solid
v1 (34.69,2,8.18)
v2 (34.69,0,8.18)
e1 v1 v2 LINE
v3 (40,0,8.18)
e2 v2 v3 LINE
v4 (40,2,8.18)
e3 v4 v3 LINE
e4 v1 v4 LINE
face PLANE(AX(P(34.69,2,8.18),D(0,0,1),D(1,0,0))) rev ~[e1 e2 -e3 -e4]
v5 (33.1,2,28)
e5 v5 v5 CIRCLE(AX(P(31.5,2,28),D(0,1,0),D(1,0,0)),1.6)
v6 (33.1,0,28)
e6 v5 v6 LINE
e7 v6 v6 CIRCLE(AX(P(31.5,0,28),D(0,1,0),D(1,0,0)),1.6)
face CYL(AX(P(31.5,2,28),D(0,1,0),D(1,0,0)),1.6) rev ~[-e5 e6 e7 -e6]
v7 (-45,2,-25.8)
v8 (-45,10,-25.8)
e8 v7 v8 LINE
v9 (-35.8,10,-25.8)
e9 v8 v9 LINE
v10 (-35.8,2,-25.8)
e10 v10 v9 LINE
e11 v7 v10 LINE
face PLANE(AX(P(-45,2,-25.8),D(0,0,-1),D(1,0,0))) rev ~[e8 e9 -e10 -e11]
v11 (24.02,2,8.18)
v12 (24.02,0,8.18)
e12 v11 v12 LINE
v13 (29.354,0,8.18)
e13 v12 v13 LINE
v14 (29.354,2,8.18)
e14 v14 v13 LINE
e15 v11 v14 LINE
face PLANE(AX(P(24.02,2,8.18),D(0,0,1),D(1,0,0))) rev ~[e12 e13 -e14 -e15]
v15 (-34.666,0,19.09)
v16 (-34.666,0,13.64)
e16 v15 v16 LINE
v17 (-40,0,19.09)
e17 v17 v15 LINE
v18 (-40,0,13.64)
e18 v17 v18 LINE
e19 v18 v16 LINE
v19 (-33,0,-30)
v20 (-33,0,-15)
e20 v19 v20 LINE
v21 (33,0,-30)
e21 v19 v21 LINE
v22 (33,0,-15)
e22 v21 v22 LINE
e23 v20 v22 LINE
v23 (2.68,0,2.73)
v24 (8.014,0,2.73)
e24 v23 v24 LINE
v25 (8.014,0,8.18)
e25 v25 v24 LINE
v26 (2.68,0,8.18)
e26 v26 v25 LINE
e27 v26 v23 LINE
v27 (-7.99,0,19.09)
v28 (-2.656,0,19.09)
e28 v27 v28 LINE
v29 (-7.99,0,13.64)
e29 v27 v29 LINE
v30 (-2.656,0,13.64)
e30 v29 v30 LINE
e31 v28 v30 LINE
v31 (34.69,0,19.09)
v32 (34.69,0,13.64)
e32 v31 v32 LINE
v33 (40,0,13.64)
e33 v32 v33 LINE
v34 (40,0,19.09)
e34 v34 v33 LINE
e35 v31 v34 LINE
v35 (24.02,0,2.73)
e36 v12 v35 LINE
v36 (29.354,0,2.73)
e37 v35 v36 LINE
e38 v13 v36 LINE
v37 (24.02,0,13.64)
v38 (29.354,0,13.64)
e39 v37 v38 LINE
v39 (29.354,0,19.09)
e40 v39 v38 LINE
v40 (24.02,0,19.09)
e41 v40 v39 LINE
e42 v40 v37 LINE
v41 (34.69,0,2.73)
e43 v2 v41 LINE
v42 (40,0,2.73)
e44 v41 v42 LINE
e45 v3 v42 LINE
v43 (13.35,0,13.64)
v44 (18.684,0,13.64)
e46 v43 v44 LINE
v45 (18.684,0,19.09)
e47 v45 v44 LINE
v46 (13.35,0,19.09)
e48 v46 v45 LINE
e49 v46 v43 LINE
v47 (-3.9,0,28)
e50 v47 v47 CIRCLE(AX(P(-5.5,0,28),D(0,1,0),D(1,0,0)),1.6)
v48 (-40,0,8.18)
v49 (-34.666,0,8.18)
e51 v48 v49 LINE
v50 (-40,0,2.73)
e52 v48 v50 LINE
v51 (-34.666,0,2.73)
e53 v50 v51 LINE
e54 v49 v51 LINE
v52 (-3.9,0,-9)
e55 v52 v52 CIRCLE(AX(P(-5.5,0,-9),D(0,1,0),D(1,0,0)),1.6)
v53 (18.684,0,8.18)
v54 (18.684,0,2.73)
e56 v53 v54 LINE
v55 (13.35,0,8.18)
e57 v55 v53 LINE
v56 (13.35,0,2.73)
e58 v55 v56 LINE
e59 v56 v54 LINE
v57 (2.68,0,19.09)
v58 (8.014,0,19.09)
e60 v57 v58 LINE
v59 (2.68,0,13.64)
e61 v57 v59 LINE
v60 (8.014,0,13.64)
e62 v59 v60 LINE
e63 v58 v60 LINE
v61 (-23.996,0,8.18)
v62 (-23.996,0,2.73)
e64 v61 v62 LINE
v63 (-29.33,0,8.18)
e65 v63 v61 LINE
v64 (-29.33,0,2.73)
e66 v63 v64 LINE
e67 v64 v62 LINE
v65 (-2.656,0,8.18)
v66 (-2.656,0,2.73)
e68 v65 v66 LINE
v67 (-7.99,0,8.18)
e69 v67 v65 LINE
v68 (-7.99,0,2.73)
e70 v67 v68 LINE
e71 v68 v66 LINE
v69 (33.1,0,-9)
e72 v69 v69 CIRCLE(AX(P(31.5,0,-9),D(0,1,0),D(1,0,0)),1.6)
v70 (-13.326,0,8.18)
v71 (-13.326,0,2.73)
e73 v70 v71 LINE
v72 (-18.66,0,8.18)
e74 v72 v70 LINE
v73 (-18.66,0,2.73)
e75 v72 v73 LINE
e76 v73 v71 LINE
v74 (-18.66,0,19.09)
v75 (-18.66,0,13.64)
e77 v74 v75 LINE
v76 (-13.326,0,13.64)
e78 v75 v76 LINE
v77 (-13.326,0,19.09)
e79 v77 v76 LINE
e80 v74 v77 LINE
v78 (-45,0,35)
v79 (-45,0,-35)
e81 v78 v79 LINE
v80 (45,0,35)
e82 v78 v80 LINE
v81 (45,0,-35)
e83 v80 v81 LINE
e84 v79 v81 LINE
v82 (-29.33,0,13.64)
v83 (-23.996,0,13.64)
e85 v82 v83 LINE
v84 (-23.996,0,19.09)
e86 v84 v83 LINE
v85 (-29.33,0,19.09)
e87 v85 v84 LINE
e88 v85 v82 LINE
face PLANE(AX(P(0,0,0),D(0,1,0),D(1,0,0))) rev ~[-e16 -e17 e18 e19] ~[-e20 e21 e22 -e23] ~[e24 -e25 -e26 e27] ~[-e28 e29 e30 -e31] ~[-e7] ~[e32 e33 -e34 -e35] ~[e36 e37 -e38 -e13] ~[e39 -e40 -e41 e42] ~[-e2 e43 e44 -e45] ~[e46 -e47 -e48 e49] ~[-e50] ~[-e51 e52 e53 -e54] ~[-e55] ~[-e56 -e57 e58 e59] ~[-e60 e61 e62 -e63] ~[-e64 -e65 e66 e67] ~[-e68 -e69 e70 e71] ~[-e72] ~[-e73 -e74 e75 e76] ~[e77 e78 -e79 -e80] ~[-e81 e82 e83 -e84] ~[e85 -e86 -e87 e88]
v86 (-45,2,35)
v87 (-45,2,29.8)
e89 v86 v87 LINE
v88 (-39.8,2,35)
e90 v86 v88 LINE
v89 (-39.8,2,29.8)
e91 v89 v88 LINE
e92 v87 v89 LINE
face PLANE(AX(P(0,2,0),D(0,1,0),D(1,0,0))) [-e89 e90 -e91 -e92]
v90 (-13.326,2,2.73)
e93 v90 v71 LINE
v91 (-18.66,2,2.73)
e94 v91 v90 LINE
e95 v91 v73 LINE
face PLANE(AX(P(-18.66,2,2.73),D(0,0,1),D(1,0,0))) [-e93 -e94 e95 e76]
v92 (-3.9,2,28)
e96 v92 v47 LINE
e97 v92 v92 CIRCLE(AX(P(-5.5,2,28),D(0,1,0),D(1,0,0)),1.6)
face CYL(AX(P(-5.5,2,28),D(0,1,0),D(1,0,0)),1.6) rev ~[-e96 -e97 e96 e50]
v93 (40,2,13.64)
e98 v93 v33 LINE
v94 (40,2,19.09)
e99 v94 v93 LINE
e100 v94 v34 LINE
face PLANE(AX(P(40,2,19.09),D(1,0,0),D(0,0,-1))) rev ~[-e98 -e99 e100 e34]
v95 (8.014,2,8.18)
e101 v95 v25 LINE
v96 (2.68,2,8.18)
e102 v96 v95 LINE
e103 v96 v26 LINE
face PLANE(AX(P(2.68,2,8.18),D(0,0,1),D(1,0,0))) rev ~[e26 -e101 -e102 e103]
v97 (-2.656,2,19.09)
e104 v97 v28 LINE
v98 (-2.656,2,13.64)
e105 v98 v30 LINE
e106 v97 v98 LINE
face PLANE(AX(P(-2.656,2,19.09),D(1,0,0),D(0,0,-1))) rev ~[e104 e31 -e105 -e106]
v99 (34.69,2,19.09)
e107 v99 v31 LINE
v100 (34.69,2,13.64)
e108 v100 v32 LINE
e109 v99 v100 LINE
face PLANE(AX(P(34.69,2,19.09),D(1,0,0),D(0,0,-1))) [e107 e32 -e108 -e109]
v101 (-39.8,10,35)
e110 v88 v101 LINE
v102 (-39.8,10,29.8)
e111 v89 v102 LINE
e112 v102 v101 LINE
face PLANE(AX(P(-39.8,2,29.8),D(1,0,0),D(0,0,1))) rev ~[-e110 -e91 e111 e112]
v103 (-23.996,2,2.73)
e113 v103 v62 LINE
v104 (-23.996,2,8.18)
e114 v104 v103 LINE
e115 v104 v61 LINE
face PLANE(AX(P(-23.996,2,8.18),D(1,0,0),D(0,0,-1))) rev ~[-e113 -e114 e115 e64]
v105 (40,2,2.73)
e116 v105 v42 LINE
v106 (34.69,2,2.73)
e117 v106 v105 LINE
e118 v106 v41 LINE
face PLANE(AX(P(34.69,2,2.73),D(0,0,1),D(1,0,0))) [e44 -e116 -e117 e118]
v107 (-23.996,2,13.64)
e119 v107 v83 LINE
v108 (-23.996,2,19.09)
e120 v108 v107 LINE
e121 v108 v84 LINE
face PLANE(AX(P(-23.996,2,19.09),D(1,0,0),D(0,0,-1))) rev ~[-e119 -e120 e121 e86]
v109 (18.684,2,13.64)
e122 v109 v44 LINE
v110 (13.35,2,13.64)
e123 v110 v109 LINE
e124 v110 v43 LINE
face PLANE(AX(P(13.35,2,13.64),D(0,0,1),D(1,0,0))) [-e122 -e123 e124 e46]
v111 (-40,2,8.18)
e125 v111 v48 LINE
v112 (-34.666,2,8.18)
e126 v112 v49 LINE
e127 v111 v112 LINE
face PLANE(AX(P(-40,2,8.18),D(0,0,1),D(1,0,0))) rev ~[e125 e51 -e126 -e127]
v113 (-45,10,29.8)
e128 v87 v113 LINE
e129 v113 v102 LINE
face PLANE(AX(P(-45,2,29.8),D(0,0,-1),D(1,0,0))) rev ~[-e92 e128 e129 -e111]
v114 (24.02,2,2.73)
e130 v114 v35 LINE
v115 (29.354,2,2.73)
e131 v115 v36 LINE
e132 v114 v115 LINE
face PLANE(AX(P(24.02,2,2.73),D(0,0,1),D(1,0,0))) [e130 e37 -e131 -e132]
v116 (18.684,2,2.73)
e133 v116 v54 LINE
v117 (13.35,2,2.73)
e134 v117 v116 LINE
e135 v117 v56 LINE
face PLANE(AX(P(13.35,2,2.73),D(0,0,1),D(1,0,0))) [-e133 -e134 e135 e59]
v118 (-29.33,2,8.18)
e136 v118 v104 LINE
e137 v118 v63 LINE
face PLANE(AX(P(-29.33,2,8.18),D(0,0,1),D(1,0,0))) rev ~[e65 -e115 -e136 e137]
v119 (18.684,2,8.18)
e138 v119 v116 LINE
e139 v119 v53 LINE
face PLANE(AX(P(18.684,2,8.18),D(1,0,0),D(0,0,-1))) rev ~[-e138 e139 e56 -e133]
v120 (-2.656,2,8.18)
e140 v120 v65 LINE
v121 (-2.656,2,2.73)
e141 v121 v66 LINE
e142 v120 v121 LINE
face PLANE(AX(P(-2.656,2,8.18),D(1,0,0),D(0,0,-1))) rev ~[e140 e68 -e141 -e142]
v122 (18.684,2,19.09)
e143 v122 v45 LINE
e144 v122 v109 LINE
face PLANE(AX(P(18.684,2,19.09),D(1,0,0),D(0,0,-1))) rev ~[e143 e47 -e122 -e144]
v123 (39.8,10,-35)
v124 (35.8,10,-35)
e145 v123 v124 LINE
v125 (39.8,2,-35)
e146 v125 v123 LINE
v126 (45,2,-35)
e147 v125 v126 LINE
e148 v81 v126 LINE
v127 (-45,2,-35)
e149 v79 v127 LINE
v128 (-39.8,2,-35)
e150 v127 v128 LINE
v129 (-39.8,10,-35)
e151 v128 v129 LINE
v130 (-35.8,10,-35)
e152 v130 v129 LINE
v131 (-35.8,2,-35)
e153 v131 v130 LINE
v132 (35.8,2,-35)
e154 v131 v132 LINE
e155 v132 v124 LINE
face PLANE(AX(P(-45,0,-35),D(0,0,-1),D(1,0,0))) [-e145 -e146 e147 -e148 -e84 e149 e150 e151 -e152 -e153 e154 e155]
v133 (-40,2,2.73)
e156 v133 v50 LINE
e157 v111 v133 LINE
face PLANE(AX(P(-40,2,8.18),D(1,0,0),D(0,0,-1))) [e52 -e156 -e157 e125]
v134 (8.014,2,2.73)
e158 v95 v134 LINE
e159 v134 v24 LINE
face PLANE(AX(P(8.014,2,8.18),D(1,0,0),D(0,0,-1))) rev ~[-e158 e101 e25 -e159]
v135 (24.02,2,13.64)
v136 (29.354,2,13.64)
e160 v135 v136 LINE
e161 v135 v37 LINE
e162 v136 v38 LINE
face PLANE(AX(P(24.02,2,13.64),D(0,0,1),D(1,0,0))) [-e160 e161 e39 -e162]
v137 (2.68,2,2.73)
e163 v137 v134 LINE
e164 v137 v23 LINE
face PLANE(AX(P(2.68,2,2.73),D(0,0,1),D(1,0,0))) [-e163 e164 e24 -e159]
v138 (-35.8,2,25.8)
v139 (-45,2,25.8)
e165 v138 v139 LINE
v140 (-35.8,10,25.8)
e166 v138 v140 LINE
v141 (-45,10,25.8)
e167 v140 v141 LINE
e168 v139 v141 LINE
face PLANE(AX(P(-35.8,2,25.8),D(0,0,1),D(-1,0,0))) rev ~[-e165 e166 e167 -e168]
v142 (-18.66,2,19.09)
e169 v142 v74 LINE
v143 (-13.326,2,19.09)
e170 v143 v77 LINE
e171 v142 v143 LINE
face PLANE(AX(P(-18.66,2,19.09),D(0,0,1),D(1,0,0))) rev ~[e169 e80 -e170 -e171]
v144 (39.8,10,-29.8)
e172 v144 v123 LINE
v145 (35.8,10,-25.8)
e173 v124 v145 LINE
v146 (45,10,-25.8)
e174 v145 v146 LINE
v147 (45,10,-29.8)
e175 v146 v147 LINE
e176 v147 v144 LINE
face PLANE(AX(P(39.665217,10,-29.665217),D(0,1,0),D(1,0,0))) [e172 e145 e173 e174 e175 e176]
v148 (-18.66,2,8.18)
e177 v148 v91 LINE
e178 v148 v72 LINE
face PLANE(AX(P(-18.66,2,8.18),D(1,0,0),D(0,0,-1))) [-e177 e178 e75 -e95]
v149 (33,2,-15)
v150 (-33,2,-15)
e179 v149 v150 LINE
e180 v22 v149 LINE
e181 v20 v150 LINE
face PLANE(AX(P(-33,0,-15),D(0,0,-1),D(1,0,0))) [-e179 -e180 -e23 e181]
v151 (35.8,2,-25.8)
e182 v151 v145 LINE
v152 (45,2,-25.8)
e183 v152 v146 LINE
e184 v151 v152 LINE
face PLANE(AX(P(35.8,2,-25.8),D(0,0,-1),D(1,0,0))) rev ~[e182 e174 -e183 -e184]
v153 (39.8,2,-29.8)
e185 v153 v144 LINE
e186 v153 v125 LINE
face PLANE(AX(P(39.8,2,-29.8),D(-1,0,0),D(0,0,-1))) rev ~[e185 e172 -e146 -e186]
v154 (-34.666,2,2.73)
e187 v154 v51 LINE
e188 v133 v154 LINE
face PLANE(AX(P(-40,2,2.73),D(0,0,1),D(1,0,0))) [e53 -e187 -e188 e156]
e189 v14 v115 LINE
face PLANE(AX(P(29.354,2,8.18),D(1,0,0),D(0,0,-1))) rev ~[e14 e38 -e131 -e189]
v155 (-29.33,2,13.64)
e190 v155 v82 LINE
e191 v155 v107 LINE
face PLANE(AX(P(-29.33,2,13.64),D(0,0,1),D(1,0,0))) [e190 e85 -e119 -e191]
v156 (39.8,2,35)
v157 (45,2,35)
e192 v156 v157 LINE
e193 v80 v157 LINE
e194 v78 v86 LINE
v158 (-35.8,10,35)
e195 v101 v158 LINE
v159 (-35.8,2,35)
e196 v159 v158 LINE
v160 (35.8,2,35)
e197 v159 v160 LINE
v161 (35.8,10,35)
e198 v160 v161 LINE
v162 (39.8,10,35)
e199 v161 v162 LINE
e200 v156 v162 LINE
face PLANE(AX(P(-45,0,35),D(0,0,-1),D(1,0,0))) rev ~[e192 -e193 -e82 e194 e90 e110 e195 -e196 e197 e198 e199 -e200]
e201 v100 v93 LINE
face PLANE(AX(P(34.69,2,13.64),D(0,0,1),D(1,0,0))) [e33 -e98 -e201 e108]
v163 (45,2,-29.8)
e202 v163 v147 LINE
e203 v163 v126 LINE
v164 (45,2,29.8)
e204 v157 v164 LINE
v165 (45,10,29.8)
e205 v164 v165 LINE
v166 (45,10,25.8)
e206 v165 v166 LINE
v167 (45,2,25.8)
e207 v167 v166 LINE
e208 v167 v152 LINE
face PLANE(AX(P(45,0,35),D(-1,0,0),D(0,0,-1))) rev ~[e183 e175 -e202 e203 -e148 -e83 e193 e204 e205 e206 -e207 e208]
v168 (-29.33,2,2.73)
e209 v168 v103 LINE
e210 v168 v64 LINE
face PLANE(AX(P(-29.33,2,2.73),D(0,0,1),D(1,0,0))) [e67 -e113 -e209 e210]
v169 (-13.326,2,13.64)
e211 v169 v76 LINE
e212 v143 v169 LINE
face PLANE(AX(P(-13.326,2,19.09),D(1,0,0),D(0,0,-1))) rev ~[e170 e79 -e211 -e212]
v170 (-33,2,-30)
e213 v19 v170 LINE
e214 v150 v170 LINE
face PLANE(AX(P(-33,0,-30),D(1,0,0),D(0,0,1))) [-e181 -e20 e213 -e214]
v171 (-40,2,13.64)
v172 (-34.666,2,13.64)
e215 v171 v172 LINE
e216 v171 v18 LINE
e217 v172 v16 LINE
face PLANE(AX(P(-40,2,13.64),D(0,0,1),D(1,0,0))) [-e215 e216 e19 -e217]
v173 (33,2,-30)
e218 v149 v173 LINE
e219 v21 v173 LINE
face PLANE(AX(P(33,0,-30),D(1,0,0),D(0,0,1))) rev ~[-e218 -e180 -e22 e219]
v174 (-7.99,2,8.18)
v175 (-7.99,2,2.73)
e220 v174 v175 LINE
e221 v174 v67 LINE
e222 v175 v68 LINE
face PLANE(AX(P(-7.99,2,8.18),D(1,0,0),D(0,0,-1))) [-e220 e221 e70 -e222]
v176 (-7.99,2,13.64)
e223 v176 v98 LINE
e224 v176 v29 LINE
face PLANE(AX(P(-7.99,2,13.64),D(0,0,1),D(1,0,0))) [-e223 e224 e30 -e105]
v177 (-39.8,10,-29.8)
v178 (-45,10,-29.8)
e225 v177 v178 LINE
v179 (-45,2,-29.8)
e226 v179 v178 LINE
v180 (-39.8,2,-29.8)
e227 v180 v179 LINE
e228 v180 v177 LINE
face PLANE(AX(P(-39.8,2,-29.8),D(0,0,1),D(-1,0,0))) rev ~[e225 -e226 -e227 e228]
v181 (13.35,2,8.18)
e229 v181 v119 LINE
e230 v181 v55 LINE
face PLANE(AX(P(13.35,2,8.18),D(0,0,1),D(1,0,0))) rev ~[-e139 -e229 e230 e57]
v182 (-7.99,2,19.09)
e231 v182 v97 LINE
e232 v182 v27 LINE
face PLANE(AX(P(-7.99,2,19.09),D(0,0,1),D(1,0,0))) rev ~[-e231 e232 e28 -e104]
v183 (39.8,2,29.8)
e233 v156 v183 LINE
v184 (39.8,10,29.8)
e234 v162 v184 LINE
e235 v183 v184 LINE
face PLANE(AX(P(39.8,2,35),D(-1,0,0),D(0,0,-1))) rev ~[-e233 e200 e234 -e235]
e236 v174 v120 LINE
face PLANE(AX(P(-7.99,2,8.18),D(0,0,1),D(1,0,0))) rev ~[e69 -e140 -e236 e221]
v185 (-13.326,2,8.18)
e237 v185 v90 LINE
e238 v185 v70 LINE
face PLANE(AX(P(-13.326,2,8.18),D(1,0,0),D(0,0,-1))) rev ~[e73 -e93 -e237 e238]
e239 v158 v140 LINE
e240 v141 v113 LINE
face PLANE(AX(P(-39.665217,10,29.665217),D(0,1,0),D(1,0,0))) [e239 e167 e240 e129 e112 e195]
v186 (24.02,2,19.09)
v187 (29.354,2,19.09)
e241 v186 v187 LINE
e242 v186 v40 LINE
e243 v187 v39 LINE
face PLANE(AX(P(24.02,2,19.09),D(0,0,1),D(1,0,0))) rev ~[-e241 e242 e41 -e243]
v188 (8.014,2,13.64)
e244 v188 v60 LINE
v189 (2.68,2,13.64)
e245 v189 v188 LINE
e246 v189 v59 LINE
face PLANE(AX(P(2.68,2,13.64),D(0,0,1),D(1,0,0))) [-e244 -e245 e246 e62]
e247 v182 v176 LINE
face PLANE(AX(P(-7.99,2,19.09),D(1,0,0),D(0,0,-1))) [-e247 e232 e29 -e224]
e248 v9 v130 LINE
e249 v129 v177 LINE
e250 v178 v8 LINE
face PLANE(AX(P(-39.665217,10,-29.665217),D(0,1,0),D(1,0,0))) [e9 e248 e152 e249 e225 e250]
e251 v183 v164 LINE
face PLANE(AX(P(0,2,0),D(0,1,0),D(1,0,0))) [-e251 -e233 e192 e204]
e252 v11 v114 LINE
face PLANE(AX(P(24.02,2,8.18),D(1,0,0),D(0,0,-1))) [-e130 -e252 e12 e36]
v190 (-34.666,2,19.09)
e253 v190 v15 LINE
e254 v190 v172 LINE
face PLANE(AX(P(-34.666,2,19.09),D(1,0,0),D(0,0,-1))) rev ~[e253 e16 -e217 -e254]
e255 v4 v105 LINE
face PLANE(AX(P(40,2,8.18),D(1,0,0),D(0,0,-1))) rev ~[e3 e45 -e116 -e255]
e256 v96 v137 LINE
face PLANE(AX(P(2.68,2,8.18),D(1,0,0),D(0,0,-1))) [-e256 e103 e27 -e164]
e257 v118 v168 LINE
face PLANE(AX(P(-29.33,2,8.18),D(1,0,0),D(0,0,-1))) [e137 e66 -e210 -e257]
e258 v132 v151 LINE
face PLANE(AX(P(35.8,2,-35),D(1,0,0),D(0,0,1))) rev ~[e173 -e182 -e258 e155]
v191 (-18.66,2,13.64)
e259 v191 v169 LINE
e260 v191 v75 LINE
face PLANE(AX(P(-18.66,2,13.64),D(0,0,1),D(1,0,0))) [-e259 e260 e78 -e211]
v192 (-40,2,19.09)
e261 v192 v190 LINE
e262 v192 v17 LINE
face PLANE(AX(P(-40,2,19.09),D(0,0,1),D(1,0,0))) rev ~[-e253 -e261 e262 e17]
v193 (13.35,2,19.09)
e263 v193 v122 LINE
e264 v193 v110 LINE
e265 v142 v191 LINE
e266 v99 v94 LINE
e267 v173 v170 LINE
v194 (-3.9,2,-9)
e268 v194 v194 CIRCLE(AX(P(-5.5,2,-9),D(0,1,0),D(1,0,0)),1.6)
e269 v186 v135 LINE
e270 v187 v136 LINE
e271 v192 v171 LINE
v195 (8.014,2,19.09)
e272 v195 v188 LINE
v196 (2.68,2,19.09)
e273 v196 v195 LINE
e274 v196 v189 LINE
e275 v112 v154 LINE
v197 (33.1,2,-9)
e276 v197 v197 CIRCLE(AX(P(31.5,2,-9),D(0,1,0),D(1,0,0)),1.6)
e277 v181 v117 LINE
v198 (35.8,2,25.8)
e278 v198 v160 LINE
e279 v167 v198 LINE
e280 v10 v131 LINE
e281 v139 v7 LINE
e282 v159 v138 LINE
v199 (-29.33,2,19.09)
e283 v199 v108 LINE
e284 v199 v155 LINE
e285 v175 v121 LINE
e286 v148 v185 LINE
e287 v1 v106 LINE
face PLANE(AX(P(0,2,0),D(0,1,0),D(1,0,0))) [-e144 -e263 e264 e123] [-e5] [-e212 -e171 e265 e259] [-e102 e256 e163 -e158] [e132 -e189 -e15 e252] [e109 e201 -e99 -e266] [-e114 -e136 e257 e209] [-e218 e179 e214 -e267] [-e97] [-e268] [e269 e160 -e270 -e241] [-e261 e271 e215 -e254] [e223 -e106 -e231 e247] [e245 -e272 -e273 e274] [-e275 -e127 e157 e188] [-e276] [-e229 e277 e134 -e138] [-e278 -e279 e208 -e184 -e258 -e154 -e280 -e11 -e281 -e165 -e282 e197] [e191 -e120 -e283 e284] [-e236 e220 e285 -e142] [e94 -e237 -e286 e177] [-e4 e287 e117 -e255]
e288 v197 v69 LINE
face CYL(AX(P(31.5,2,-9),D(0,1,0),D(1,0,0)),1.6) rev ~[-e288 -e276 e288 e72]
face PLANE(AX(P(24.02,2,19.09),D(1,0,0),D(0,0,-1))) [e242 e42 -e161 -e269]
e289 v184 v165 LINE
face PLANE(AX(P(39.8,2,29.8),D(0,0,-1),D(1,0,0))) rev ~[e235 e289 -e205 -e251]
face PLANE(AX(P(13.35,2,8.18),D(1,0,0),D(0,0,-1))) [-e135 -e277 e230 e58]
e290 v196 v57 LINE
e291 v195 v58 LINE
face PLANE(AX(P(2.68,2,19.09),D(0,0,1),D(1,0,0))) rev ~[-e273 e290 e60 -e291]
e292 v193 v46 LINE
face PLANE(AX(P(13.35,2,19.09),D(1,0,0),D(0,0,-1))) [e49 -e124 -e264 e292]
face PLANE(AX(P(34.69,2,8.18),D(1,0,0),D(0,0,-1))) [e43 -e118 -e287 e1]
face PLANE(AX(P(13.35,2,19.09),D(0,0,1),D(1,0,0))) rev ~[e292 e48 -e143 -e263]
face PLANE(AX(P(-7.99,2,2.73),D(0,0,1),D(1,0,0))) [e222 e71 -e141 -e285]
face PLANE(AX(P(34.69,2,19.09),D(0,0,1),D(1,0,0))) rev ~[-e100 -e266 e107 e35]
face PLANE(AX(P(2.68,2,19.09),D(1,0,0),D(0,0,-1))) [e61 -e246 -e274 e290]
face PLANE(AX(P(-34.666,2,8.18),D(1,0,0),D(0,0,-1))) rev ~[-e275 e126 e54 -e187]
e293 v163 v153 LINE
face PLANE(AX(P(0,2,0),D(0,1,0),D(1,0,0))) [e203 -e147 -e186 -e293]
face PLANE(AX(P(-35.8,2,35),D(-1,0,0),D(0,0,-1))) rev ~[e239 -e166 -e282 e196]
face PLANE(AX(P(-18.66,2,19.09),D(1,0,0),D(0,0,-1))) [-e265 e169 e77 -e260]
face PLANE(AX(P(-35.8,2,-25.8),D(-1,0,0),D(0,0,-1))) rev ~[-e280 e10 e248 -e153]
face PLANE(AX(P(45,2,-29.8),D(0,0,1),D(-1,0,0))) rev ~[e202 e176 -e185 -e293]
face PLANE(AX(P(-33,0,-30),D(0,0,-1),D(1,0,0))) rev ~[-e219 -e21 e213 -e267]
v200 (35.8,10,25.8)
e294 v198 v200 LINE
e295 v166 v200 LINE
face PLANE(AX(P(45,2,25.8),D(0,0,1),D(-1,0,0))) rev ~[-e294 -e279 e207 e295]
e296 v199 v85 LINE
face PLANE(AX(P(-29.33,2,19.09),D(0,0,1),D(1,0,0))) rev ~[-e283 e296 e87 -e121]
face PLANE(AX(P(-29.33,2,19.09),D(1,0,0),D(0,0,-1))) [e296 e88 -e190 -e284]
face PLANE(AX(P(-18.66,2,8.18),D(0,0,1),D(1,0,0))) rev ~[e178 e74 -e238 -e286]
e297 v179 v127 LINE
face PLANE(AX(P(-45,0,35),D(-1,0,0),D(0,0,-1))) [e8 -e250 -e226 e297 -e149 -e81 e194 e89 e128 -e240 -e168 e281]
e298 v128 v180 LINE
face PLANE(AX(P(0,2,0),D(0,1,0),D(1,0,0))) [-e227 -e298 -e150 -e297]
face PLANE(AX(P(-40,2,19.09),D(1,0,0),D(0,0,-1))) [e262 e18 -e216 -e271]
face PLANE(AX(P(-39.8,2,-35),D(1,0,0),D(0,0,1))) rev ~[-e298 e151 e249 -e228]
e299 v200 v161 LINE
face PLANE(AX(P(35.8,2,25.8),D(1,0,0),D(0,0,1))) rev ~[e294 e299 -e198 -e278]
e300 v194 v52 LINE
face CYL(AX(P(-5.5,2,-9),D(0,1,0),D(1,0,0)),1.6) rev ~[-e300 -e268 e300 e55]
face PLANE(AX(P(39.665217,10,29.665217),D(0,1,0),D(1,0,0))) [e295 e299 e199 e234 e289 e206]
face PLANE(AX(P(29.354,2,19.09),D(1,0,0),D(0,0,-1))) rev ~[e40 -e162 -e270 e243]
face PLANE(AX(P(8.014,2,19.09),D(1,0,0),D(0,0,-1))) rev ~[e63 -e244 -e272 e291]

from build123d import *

# Parameters (mm, degrees)
ESBO_O1_W                = 90
ESBO_O1_H                = 70
RESSALTO_EXTRUS_O1_DEPTH = 2
RESSALTO_EXTRUS_O4_DEPTH = 8
ESBO_O6_W                = 66
ESBO_O6_H                = 15
CORTE_EXTRUS_O4_DEPTH    = 3
ESBO_O2_W                = 5.334
ESBO_O2_H                = 5.45
ESBO_O2_W_2              = 5.31
CORTE_EXTRUS_O6_DEPTH    = 5
ESBO_O7_R                = 1.6
CORTE_EXTRUS_O7_DEPTH    = 3


with BuildPart() as part:
    # Esboço1 → Ressalto-extrusão1 (new body)
    with BuildSketch(Plane(origin=(0, 0, 0), x_dir=(1, 0, 0), z_dir=(0, 1, 0))):
        Rectangle(ESBO_O1_W, ESBO_O1_H)
    extrude(amount=RESSALTO_EXTRUS_O1_DEPTH)

    # Esboço3 → Ressalto-extrusão4 (add)
    with BuildSketch(Plane(origin=(0, 2, 0), x_dir=(1, 0, 0), z_dir=(0, 1, 0))):
        Polygon((-35.8, -25.8), (-45, -25.8), (-45, -29.8), (-39.8, -29.8), (-39.8, -35), (-35.8, -35), align=None)
        Polygon((45, -29.8), (45, -25.8), (35.8, -25.8), (35.8, -35), (39.8, -35), (39.8, -29.8), align=None)
        Polygon((39.8, 35), (35.8, 35), (35.8, 25.8), (45, 25.8), (45, 29.8), (39.8, 29.8), align=None)
        Polygon((-35.8, 35), (-39.8, 35), (-39.8, 29.8), (-45, 29.8), (-45, 25.8), (-35.8, 25.8), align=None)
    extrude(amount=RESSALTO_EXTRUS_O4_DEPTH)

    # Esboço6 → Corte-extrusão4 (cut)
    with BuildSketch(Plane.XZ):
        with Locations((0, -22.5)):
            Rectangle(ESBO_O6_W, ESBO_O6_H)
    extrude(amount=-CORTE_EXTRUS_O4_DEPTH, mode=Mode.SUBTRACT)

    # Esboço2 → Corte-extrusão6 (cut)
    with BuildSketch(Plane(origin=(0, 2, 0), x_dir=(1, 0, 0), z_dir=(0, 1, 0))):
        with Locations((-37.333, -16.365)):
            Rectangle(ESBO_O2_W, ESBO_O2_H)
        with Locations((-37.333, -5.455)):
            Rectangle(ESBO_O2_W, ESBO_O2_H)
        with Locations((-26.663, -16.365)):
            Rectangle(ESBO_O2_W, ESBO_O2_H)
        with Locations((-26.663, -5.455)):
            Rectangle(ESBO_O2_W, ESBO_O2_H)
        with Locations((-15.993, -16.365)):
            Rectangle(ESBO_O2_W, ESBO_O2_H)
        with Locations((-15.993, -5.455)):
            Rectangle(ESBO_O2_W, ESBO_O2_H)
        with Locations((-5.323, -16.365)):
            Rectangle(ESBO_O2_W, ESBO_O2_H)
        with Locations((-5.323, -5.455)):
            Rectangle(ESBO_O2_W, ESBO_O2_H)
        with Locations((5.347, -16.365)):
            Rectangle(ESBO_O2_W, ESBO_O2_H)
        with Locations((5.347, -5.455)):
            Rectangle(ESBO_O2_W, ESBO_O2_H)
        with Locations((16.017, -16.365)):
            Rectangle(ESBO_O2_W, ESBO_O2_H)
        with Locations((16.017, -5.455)):
            Rectangle(ESBO_O2_W, ESBO_O2_H)
        with Locations((26.687, -16.365)):
            Rectangle(ESBO_O2_W, ESBO_O2_H)
        with Locations((26.687, -5.455)):
            Rectangle(ESBO_O2_W, ESBO_O2_H)
        with Locations((37.345, -16.365)):
            Rectangle(ESBO_O2_W_2, ESBO_O2_H)
        with Locations((37.345, -5.455)):
            Rectangle(ESBO_O2_W_2, ESBO_O2_H)
    extrude(amount=-CORTE_EXTRUS_O6_DEPTH, mode=Mode.SUBTRACT)

    # Esboço7 → Corte-extrusão7 (cut)
    with BuildSketch(Plane(origin=(0, 2, 0), x_dir=(1, 0, 0), z_dir=(0, 1, 0))):
        with Locations((31.5, 9)):
            Circle(ESBO_O7_R)
        with Locations((-5.5, 9)):
            Circle(ESBO_O7_R)
        with Locations((-5.5, -28)):
            Circle(ESBO_O7_R)
        with Locations((31.5, -28)):
            Circle(ESBO_O7_R)
    extrude(amount=-CORTE_EXTRUS_O7_DEPTH, mode=Mode.SUBTRACT)


solid = part.part
